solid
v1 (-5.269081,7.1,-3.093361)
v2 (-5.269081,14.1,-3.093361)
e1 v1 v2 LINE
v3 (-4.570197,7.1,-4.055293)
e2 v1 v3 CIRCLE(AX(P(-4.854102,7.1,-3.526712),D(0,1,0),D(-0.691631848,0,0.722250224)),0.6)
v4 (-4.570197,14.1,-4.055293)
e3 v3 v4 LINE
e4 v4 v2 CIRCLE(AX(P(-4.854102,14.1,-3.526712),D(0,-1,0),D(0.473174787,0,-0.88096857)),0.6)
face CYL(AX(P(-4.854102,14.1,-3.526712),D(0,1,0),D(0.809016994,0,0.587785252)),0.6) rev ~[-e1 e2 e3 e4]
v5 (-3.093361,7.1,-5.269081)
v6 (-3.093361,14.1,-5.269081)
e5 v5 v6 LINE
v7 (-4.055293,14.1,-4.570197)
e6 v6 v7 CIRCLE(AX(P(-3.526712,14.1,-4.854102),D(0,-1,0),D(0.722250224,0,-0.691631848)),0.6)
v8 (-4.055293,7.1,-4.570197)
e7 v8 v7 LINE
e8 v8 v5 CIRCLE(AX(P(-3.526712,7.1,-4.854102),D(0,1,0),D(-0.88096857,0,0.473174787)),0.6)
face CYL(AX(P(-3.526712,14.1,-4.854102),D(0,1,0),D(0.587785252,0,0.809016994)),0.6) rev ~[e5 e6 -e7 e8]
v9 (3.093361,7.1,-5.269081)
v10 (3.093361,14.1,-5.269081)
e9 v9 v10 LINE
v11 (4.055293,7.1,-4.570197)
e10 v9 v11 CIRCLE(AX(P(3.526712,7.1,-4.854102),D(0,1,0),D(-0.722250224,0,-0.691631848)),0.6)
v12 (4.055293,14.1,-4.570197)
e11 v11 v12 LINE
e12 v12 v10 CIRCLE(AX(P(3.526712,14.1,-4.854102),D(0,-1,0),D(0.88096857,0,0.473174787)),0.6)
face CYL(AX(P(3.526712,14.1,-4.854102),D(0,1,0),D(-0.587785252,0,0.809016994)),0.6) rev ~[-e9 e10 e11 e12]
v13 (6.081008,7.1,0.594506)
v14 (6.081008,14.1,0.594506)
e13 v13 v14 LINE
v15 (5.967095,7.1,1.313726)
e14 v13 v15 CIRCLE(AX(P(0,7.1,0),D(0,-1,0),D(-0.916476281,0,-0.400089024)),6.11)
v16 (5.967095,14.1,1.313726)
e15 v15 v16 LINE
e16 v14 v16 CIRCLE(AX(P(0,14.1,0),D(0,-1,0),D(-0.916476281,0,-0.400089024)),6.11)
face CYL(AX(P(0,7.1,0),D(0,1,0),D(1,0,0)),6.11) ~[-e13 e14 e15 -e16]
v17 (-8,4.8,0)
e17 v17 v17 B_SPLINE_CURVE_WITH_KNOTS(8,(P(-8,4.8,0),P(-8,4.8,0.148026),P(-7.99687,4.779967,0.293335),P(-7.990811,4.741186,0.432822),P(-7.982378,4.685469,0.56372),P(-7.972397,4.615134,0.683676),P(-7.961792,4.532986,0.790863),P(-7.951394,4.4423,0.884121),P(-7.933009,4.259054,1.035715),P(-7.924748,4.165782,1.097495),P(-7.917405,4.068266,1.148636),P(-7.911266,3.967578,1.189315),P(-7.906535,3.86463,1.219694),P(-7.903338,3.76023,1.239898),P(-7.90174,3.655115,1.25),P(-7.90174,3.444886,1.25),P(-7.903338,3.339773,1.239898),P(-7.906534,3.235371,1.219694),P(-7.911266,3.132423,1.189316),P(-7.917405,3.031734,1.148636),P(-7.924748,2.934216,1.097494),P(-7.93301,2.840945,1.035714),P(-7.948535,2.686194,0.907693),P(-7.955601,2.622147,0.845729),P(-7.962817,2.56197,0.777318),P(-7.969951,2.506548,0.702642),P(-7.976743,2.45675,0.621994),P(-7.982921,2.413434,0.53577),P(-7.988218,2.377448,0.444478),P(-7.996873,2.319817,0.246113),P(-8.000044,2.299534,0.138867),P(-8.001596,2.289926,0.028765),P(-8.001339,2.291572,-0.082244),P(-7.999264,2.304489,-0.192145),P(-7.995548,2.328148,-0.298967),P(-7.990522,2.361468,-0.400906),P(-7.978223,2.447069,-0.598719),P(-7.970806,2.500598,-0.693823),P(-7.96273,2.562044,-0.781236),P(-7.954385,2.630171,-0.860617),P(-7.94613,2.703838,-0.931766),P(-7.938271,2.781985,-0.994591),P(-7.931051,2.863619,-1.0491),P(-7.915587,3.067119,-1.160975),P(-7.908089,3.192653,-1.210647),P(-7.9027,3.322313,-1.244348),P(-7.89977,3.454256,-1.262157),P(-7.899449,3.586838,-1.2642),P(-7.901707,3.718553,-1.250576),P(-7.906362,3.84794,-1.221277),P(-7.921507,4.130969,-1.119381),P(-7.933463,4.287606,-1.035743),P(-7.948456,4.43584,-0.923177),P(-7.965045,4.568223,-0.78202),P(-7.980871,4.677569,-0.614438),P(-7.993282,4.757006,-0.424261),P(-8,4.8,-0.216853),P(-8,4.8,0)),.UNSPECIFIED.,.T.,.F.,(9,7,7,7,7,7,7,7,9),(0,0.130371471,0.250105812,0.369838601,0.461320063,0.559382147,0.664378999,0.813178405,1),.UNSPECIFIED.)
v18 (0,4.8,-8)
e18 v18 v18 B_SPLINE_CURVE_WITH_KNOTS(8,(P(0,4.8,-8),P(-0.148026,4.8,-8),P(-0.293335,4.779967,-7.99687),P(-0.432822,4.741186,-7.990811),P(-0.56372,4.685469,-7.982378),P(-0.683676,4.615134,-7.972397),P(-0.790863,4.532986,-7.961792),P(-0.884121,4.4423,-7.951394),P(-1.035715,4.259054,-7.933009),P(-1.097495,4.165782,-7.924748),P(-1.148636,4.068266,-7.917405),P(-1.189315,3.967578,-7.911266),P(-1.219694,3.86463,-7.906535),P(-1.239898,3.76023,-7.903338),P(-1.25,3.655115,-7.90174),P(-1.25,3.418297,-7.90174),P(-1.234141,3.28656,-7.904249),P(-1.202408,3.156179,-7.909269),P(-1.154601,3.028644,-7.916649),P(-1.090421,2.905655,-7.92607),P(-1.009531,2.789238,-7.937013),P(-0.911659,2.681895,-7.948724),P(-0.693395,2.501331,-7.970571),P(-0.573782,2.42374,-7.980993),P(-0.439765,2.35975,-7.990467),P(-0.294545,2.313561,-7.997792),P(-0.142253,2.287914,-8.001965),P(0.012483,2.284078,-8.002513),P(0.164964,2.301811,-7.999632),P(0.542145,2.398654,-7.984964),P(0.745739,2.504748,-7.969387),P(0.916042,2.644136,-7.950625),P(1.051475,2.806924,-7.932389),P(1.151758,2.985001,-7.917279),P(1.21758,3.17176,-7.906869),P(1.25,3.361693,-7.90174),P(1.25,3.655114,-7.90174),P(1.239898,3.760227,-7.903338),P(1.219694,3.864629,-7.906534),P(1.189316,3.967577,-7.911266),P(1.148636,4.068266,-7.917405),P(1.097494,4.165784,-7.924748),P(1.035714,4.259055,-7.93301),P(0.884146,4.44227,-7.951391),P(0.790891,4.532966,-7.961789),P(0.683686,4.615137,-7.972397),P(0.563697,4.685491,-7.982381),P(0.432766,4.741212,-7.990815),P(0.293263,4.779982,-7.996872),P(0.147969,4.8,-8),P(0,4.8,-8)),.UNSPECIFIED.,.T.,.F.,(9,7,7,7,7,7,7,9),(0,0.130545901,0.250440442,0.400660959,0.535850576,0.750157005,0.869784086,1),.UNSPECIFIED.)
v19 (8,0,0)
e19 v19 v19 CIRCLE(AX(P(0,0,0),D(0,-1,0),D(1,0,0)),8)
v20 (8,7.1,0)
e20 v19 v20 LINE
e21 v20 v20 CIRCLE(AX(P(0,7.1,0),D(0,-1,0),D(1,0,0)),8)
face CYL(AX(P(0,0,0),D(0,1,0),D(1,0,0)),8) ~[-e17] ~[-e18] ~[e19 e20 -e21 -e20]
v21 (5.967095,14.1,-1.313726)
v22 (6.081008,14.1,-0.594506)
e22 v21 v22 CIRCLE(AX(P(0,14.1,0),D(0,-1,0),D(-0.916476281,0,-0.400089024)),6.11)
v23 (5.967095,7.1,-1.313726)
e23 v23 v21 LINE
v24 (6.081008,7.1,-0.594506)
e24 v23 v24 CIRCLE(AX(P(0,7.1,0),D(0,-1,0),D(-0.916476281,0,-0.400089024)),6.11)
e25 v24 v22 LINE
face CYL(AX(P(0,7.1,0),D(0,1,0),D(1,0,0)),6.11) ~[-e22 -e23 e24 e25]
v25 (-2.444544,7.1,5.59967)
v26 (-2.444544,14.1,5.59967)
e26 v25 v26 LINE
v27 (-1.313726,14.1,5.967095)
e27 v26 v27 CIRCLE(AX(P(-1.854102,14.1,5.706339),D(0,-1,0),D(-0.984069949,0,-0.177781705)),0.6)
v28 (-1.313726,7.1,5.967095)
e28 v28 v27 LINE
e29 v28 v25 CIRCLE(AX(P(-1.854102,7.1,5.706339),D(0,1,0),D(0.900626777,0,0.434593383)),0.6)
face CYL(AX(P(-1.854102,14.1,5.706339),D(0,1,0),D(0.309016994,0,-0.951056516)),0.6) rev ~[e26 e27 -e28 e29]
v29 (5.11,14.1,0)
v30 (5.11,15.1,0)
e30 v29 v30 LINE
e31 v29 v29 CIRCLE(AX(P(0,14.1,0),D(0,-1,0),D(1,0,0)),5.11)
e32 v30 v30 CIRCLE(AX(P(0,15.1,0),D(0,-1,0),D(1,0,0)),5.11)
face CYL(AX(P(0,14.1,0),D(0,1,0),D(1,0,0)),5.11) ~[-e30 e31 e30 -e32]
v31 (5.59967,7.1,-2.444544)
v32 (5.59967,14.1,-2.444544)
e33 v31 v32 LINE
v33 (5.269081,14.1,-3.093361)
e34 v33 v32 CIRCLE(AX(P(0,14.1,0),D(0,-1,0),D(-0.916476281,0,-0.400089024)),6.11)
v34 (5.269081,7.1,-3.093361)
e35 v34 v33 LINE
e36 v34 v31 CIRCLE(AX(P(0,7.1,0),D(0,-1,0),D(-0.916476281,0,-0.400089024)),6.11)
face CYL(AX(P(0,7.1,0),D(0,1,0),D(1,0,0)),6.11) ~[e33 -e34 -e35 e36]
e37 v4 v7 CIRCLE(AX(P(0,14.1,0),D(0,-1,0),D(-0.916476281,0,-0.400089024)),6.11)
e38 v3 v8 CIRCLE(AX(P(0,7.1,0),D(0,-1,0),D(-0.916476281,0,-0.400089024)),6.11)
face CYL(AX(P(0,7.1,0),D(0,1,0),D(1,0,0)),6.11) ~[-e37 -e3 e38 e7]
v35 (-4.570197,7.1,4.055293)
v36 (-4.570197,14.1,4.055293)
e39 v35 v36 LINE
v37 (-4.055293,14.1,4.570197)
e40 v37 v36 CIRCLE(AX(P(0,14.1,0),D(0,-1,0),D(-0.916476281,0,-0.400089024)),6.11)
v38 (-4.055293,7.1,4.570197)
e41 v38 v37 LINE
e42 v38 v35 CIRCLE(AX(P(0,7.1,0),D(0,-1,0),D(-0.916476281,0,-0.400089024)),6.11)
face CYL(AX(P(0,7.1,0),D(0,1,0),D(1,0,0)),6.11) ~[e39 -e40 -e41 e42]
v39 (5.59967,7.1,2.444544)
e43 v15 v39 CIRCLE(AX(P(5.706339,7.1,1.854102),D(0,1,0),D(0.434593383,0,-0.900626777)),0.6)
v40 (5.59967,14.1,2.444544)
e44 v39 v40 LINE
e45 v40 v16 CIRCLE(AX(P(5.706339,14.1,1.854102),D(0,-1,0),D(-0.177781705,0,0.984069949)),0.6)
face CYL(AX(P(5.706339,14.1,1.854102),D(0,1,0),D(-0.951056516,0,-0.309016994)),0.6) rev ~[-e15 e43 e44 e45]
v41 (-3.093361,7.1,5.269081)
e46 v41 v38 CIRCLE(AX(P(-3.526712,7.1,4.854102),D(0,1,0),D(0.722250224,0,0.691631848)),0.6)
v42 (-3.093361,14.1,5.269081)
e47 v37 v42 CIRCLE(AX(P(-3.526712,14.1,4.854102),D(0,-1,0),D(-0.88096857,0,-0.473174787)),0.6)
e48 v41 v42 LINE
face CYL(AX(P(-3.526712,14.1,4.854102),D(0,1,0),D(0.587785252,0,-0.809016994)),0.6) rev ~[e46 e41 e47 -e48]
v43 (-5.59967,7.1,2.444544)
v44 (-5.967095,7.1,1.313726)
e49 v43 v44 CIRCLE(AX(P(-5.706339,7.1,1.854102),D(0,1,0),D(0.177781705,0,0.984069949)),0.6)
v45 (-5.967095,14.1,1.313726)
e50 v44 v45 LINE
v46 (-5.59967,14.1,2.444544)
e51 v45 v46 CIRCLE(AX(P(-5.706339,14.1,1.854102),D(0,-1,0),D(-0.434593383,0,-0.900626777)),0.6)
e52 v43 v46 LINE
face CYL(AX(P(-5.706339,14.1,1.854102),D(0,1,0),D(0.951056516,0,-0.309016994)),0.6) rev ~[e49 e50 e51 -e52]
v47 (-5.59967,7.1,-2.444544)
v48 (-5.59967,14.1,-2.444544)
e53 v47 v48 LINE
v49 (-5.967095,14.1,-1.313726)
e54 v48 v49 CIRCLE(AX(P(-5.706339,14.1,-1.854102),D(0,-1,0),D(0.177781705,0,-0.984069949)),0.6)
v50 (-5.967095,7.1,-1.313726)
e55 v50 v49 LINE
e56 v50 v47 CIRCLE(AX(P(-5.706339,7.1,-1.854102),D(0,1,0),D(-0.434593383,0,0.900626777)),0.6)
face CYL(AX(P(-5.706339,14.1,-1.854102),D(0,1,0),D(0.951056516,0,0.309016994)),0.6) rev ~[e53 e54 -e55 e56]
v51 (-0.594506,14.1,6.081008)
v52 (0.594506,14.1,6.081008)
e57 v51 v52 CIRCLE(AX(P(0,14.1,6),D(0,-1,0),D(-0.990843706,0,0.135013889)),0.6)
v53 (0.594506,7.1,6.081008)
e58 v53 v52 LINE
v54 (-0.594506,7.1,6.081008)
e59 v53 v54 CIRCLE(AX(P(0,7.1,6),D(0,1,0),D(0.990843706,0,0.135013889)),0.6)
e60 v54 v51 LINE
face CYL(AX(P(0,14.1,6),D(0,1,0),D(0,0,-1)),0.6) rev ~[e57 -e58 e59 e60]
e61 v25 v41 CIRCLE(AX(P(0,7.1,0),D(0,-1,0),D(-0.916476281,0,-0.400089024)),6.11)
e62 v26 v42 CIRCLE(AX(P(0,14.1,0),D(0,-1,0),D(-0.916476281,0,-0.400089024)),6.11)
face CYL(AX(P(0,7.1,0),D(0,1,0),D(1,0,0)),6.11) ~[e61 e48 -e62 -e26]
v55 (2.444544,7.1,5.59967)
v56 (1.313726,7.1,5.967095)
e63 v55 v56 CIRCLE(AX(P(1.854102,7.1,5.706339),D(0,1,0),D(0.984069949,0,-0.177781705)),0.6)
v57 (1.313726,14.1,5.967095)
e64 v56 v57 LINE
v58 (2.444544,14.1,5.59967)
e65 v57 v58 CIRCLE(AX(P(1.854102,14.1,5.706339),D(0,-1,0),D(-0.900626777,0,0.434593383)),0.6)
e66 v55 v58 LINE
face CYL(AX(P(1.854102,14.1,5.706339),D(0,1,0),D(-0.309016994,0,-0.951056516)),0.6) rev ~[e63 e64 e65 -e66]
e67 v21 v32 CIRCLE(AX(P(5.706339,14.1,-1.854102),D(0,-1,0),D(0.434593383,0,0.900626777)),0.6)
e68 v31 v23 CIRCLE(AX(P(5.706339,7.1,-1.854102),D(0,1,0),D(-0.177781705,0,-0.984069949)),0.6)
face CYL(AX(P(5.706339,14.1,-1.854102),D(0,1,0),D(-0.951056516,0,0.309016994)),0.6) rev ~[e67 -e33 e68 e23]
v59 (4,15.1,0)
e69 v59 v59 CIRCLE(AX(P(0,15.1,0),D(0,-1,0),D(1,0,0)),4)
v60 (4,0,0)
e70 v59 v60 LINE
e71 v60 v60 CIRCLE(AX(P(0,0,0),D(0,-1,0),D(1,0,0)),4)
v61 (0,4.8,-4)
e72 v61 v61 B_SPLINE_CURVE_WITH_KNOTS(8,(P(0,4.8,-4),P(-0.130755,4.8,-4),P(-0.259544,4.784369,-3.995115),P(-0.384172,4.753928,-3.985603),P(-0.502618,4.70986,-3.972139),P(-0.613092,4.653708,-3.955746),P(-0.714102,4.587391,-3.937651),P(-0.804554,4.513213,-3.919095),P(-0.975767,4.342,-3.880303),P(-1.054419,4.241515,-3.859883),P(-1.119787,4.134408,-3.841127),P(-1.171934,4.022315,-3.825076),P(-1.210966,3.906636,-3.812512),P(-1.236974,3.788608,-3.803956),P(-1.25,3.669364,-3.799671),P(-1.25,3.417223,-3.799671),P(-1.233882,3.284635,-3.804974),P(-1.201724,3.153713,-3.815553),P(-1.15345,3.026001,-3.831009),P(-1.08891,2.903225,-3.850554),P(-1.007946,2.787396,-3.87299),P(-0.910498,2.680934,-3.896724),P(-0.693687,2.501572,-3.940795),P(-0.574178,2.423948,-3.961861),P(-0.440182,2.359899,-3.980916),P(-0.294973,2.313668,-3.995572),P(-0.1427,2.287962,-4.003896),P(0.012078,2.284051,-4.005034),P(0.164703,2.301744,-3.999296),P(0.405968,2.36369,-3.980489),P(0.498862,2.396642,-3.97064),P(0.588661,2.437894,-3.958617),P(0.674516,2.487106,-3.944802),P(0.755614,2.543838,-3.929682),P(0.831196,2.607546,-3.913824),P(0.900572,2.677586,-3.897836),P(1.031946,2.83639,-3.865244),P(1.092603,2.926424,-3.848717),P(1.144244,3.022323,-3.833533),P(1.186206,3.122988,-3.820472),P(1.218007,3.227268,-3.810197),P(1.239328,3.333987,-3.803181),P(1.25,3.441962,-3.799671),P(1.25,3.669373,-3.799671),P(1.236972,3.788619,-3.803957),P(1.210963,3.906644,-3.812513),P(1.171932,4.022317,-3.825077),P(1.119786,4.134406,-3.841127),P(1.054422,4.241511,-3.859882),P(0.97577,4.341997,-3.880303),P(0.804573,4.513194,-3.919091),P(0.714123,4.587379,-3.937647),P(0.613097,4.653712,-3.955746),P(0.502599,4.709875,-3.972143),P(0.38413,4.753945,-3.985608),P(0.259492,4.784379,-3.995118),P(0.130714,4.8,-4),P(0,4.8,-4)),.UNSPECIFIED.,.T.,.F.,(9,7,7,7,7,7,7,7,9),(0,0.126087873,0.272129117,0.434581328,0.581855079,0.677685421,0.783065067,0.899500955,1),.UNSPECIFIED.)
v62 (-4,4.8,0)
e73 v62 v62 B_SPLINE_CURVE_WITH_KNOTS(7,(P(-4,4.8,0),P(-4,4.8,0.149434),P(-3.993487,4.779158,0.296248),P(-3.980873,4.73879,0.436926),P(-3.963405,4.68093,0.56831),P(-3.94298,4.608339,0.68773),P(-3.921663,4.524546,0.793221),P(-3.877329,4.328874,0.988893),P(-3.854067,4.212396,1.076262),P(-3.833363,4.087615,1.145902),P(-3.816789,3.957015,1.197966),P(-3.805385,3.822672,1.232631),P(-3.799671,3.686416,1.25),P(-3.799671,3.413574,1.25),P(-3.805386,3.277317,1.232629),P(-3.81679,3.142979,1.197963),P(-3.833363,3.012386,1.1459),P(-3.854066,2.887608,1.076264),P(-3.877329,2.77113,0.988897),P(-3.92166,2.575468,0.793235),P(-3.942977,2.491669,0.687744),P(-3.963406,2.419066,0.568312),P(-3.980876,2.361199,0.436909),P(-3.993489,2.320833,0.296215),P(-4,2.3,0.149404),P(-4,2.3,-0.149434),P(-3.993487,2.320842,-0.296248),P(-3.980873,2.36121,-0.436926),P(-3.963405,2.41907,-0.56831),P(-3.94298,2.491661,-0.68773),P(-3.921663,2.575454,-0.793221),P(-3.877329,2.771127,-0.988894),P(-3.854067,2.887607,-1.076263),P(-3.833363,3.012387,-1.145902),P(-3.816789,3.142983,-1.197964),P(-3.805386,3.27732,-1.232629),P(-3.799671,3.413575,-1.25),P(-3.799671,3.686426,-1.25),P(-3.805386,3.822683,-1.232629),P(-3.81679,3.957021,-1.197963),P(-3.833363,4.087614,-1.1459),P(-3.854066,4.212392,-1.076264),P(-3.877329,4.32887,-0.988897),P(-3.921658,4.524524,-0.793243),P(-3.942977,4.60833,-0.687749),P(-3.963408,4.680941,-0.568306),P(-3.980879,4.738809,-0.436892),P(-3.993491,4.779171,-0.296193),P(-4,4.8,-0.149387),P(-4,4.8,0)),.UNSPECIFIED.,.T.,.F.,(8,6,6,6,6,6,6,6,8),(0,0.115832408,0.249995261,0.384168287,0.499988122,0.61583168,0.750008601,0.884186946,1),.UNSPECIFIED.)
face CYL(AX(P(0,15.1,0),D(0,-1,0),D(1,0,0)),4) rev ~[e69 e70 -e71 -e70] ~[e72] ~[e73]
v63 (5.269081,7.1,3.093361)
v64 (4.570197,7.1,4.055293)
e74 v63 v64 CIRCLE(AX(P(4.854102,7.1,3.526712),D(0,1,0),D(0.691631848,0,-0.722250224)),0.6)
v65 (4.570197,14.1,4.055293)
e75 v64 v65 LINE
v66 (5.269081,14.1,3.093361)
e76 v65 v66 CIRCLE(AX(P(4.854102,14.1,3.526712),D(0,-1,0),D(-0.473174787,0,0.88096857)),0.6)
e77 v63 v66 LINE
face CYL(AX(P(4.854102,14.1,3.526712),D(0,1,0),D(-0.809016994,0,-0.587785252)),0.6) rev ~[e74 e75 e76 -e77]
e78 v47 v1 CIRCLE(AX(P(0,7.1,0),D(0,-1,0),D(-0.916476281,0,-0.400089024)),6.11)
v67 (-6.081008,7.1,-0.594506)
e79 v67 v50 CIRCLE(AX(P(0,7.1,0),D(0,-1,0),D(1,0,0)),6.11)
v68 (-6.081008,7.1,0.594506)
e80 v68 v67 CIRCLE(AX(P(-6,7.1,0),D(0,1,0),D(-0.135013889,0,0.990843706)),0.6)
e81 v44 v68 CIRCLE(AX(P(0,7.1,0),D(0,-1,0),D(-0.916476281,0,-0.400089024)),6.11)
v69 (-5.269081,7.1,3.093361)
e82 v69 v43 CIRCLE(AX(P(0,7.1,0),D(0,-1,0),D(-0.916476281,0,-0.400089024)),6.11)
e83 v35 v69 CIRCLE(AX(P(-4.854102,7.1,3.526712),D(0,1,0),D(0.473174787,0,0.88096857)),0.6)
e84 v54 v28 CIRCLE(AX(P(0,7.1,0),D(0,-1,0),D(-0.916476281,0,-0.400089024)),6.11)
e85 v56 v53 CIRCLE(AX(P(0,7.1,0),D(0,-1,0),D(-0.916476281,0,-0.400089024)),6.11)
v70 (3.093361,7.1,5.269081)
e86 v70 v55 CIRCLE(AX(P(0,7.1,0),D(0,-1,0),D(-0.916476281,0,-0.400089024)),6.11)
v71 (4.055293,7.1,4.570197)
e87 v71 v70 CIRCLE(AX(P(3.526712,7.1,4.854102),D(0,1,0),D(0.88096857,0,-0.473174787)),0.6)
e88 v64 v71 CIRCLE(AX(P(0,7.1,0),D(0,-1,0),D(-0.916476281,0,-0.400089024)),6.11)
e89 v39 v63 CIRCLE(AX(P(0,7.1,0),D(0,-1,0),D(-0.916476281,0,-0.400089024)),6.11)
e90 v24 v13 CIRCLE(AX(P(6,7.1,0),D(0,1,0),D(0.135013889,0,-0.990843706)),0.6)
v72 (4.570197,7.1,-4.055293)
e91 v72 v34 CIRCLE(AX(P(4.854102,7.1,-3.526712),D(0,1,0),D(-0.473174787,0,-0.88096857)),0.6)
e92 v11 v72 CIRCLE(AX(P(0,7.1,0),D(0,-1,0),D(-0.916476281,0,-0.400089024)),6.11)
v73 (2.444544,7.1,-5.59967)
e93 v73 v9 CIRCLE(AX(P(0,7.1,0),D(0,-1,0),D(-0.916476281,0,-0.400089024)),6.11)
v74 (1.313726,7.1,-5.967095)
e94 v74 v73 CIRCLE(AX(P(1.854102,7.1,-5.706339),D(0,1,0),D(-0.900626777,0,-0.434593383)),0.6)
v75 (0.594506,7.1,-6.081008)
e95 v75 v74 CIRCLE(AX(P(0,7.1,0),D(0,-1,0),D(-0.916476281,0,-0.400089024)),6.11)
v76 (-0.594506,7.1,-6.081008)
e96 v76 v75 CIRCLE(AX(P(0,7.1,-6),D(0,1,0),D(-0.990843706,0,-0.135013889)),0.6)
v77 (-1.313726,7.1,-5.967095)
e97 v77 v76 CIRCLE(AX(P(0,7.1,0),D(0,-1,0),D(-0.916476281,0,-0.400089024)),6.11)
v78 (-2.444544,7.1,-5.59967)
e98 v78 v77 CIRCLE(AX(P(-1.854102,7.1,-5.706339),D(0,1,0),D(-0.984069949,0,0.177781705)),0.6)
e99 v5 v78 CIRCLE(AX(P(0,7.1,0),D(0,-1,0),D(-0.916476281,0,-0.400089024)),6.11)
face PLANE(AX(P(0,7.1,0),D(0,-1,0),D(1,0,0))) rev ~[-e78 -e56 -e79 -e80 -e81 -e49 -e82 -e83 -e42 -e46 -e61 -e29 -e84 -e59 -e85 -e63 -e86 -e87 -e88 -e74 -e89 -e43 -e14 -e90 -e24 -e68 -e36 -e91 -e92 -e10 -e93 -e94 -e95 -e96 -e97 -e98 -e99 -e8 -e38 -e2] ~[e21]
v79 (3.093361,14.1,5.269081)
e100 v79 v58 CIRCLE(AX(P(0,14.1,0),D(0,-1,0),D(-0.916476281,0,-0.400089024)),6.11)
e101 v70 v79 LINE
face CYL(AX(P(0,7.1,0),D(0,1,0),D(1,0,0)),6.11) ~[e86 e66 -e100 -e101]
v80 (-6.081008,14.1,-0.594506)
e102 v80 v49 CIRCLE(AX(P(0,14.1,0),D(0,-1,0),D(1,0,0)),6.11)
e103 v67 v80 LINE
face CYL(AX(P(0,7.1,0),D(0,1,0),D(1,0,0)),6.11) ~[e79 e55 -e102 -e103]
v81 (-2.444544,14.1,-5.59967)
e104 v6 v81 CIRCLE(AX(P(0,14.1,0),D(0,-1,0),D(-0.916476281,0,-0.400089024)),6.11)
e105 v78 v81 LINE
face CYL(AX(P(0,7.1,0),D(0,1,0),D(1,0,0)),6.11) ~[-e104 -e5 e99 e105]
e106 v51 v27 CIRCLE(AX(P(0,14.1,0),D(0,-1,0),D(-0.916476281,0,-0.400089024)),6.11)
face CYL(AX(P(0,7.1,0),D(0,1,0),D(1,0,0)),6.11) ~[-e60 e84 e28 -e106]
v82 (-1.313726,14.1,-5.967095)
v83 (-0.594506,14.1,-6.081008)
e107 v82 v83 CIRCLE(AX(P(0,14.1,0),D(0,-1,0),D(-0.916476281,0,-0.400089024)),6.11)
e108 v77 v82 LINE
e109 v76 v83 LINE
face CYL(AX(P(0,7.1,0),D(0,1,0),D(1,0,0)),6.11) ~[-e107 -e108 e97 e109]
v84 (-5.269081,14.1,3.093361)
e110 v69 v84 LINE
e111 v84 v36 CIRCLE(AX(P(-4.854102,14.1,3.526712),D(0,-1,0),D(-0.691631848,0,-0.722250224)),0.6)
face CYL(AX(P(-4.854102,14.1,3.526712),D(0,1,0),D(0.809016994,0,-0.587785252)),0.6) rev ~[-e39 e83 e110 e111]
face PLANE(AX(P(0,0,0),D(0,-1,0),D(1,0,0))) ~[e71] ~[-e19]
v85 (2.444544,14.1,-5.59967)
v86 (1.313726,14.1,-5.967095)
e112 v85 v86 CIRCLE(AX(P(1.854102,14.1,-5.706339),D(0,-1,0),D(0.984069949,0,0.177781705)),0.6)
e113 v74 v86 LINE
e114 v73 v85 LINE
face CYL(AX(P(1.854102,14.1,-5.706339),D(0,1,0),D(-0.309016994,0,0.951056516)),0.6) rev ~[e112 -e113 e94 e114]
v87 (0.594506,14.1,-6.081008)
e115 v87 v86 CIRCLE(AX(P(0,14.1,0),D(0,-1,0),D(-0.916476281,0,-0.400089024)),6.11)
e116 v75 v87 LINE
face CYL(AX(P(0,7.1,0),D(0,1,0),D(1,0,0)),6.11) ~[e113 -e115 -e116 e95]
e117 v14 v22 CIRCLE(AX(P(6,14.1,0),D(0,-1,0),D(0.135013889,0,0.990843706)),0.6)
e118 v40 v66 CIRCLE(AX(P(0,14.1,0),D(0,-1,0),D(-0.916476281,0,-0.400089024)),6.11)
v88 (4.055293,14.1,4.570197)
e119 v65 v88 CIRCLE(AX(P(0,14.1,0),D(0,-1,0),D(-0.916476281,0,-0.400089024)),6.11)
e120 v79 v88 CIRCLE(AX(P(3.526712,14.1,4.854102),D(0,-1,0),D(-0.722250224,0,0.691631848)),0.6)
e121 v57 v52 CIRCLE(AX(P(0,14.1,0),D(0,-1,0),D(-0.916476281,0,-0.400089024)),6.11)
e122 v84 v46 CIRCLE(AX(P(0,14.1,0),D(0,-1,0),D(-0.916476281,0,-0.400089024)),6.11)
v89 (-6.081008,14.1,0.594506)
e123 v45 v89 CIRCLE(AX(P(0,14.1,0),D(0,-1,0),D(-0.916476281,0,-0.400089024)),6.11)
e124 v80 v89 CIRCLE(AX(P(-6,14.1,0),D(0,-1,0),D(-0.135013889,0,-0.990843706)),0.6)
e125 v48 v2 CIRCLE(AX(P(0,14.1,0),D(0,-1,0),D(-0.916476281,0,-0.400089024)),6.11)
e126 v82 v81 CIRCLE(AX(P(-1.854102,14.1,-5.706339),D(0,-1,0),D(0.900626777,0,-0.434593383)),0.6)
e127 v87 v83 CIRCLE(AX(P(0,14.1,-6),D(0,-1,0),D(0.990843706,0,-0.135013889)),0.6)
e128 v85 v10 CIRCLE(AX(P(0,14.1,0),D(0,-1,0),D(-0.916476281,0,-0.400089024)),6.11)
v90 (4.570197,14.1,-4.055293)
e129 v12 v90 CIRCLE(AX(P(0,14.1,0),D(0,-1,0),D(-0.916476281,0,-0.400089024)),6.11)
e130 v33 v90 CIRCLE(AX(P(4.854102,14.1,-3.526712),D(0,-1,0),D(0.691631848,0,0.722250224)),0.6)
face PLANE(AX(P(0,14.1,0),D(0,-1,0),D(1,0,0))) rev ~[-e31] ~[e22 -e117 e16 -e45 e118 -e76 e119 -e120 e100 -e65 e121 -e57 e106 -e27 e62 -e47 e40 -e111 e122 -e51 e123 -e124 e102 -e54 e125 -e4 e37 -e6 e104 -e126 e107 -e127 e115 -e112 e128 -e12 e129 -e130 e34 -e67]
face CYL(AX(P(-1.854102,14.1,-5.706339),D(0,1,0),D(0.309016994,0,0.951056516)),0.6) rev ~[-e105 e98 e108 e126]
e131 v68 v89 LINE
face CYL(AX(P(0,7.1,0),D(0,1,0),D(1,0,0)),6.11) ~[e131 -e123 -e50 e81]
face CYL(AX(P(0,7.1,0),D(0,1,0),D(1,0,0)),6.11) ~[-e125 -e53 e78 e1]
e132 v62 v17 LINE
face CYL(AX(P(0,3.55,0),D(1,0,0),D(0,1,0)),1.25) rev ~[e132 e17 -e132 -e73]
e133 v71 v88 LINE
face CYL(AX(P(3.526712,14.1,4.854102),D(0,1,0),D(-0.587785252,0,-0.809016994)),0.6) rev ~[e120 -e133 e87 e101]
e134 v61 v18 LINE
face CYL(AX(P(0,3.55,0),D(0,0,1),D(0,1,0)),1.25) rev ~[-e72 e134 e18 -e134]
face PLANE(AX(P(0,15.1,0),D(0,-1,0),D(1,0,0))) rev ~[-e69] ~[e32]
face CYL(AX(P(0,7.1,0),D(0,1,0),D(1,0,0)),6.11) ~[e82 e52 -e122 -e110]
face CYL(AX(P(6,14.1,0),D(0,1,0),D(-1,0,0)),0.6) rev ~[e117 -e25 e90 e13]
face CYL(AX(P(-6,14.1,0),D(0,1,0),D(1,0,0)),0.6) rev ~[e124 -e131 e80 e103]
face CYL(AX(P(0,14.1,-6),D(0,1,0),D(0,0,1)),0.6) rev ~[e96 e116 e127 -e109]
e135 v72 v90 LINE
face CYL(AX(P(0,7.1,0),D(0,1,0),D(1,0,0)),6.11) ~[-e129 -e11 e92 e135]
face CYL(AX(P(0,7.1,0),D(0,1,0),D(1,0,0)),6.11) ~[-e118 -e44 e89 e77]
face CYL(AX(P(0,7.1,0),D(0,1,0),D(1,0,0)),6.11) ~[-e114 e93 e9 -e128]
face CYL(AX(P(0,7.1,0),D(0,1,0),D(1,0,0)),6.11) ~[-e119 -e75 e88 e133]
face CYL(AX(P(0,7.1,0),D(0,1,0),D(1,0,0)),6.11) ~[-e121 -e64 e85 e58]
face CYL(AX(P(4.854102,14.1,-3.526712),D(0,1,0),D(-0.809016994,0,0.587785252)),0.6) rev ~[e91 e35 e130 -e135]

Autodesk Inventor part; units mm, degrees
ref_plane "YZ Plane" through (0, 0, 0) normal (1, 0, 0) x (0, 1, 0)
ref_plane "XZ Plane" through (0, 0, 0) normal (0, 1, 0) x (-1, 0, 0)
ref_plane "XY Plane" through (0, 0, 0) normal (0, 0, 1) x (1, 0, 0)
sketch "Sketch1" plane through (0, 0, 0) normal (0, 0, 1) x (1, 0, 0)
  line L0 (0, 0) -> (4, 0) construction
  line L1 (8, 0) -> (8, 7.1)
  line L2 (8, 7.1) -> (6.11, 7.1)
  line L3 (6.11, 7.1) -> (6.11, 14.1)
  line L4 (6.11, 14.1) -> (5.11, 14.1)
  line L5 (5.11, 14.1) -> (5.11, 15.1)
  line L6 (5.11, 15.1) -> (4, 15.1)
  line L7 (0, 15.1) -> (0, 0) construction
  line L8 (4, 15.1) -> (4, 0)
  line L9 (4, 15.1) -> (0, 15.1) construction
  line L10 (4, 0) -> (8, 0)
  dimension "d0" = 7
  dimension "d1" = 7.1
  dimension "d2" = 8
  dimension "d3" = 6.11
  dimension "d5" = 1
  dimension "d6" = 1
  dimension "d15" = 4
revolve "Revolution1" add sketch "Sketch1" angle 360 about axis through (0, 15.1, 0) along (0, -1, 0)
sketch "Sketch2" plane through (0, 14.1, 0) normal (0, 1, 0) x (1, 0, 0)
  circle A0 centre (0, 0) radius 5.11 construction
  line L0 (0, 0) -> (-6, 0) construction
  circle A1 centre (-6, 0) radius 0.6
  point P0 (0, 0)
  dimension "d8" = 1.2
  dimension "d9" = 6
extrude "Extrusion1" cut sketch "Sketch2" against normal up to surface (7 mm away)
pattern_circular "Circular Pattern1" count 20 over 360 about axis through (0, 14.6, 0) along (0, -1, 0) of "Extrusion1"
sketch "Sketch3" plane through (0, 0, 0) normal (1, 0, 0) x (0, 1, 0)
  line L0 (7.1, 8) -> (7.1, -8) construction
  line L1 (0, 8) -> (0, -8) construction
  line L2 (0, 0) -> (7.1, 0) construction
  circle A0 centre (3.55, 0) radius 1.25
  dimension "d16" = 2.5
extrude "Extrusion2" cut sketch "Sketch3" against normal blind 10
pattern_circular "Circular Pattern2" count 2 over 90 about axis through (0, 7.55, 0) along (0, -1, 0) of "Extrusion2"
properties part number "GT2Pulley_20T_8mm"
